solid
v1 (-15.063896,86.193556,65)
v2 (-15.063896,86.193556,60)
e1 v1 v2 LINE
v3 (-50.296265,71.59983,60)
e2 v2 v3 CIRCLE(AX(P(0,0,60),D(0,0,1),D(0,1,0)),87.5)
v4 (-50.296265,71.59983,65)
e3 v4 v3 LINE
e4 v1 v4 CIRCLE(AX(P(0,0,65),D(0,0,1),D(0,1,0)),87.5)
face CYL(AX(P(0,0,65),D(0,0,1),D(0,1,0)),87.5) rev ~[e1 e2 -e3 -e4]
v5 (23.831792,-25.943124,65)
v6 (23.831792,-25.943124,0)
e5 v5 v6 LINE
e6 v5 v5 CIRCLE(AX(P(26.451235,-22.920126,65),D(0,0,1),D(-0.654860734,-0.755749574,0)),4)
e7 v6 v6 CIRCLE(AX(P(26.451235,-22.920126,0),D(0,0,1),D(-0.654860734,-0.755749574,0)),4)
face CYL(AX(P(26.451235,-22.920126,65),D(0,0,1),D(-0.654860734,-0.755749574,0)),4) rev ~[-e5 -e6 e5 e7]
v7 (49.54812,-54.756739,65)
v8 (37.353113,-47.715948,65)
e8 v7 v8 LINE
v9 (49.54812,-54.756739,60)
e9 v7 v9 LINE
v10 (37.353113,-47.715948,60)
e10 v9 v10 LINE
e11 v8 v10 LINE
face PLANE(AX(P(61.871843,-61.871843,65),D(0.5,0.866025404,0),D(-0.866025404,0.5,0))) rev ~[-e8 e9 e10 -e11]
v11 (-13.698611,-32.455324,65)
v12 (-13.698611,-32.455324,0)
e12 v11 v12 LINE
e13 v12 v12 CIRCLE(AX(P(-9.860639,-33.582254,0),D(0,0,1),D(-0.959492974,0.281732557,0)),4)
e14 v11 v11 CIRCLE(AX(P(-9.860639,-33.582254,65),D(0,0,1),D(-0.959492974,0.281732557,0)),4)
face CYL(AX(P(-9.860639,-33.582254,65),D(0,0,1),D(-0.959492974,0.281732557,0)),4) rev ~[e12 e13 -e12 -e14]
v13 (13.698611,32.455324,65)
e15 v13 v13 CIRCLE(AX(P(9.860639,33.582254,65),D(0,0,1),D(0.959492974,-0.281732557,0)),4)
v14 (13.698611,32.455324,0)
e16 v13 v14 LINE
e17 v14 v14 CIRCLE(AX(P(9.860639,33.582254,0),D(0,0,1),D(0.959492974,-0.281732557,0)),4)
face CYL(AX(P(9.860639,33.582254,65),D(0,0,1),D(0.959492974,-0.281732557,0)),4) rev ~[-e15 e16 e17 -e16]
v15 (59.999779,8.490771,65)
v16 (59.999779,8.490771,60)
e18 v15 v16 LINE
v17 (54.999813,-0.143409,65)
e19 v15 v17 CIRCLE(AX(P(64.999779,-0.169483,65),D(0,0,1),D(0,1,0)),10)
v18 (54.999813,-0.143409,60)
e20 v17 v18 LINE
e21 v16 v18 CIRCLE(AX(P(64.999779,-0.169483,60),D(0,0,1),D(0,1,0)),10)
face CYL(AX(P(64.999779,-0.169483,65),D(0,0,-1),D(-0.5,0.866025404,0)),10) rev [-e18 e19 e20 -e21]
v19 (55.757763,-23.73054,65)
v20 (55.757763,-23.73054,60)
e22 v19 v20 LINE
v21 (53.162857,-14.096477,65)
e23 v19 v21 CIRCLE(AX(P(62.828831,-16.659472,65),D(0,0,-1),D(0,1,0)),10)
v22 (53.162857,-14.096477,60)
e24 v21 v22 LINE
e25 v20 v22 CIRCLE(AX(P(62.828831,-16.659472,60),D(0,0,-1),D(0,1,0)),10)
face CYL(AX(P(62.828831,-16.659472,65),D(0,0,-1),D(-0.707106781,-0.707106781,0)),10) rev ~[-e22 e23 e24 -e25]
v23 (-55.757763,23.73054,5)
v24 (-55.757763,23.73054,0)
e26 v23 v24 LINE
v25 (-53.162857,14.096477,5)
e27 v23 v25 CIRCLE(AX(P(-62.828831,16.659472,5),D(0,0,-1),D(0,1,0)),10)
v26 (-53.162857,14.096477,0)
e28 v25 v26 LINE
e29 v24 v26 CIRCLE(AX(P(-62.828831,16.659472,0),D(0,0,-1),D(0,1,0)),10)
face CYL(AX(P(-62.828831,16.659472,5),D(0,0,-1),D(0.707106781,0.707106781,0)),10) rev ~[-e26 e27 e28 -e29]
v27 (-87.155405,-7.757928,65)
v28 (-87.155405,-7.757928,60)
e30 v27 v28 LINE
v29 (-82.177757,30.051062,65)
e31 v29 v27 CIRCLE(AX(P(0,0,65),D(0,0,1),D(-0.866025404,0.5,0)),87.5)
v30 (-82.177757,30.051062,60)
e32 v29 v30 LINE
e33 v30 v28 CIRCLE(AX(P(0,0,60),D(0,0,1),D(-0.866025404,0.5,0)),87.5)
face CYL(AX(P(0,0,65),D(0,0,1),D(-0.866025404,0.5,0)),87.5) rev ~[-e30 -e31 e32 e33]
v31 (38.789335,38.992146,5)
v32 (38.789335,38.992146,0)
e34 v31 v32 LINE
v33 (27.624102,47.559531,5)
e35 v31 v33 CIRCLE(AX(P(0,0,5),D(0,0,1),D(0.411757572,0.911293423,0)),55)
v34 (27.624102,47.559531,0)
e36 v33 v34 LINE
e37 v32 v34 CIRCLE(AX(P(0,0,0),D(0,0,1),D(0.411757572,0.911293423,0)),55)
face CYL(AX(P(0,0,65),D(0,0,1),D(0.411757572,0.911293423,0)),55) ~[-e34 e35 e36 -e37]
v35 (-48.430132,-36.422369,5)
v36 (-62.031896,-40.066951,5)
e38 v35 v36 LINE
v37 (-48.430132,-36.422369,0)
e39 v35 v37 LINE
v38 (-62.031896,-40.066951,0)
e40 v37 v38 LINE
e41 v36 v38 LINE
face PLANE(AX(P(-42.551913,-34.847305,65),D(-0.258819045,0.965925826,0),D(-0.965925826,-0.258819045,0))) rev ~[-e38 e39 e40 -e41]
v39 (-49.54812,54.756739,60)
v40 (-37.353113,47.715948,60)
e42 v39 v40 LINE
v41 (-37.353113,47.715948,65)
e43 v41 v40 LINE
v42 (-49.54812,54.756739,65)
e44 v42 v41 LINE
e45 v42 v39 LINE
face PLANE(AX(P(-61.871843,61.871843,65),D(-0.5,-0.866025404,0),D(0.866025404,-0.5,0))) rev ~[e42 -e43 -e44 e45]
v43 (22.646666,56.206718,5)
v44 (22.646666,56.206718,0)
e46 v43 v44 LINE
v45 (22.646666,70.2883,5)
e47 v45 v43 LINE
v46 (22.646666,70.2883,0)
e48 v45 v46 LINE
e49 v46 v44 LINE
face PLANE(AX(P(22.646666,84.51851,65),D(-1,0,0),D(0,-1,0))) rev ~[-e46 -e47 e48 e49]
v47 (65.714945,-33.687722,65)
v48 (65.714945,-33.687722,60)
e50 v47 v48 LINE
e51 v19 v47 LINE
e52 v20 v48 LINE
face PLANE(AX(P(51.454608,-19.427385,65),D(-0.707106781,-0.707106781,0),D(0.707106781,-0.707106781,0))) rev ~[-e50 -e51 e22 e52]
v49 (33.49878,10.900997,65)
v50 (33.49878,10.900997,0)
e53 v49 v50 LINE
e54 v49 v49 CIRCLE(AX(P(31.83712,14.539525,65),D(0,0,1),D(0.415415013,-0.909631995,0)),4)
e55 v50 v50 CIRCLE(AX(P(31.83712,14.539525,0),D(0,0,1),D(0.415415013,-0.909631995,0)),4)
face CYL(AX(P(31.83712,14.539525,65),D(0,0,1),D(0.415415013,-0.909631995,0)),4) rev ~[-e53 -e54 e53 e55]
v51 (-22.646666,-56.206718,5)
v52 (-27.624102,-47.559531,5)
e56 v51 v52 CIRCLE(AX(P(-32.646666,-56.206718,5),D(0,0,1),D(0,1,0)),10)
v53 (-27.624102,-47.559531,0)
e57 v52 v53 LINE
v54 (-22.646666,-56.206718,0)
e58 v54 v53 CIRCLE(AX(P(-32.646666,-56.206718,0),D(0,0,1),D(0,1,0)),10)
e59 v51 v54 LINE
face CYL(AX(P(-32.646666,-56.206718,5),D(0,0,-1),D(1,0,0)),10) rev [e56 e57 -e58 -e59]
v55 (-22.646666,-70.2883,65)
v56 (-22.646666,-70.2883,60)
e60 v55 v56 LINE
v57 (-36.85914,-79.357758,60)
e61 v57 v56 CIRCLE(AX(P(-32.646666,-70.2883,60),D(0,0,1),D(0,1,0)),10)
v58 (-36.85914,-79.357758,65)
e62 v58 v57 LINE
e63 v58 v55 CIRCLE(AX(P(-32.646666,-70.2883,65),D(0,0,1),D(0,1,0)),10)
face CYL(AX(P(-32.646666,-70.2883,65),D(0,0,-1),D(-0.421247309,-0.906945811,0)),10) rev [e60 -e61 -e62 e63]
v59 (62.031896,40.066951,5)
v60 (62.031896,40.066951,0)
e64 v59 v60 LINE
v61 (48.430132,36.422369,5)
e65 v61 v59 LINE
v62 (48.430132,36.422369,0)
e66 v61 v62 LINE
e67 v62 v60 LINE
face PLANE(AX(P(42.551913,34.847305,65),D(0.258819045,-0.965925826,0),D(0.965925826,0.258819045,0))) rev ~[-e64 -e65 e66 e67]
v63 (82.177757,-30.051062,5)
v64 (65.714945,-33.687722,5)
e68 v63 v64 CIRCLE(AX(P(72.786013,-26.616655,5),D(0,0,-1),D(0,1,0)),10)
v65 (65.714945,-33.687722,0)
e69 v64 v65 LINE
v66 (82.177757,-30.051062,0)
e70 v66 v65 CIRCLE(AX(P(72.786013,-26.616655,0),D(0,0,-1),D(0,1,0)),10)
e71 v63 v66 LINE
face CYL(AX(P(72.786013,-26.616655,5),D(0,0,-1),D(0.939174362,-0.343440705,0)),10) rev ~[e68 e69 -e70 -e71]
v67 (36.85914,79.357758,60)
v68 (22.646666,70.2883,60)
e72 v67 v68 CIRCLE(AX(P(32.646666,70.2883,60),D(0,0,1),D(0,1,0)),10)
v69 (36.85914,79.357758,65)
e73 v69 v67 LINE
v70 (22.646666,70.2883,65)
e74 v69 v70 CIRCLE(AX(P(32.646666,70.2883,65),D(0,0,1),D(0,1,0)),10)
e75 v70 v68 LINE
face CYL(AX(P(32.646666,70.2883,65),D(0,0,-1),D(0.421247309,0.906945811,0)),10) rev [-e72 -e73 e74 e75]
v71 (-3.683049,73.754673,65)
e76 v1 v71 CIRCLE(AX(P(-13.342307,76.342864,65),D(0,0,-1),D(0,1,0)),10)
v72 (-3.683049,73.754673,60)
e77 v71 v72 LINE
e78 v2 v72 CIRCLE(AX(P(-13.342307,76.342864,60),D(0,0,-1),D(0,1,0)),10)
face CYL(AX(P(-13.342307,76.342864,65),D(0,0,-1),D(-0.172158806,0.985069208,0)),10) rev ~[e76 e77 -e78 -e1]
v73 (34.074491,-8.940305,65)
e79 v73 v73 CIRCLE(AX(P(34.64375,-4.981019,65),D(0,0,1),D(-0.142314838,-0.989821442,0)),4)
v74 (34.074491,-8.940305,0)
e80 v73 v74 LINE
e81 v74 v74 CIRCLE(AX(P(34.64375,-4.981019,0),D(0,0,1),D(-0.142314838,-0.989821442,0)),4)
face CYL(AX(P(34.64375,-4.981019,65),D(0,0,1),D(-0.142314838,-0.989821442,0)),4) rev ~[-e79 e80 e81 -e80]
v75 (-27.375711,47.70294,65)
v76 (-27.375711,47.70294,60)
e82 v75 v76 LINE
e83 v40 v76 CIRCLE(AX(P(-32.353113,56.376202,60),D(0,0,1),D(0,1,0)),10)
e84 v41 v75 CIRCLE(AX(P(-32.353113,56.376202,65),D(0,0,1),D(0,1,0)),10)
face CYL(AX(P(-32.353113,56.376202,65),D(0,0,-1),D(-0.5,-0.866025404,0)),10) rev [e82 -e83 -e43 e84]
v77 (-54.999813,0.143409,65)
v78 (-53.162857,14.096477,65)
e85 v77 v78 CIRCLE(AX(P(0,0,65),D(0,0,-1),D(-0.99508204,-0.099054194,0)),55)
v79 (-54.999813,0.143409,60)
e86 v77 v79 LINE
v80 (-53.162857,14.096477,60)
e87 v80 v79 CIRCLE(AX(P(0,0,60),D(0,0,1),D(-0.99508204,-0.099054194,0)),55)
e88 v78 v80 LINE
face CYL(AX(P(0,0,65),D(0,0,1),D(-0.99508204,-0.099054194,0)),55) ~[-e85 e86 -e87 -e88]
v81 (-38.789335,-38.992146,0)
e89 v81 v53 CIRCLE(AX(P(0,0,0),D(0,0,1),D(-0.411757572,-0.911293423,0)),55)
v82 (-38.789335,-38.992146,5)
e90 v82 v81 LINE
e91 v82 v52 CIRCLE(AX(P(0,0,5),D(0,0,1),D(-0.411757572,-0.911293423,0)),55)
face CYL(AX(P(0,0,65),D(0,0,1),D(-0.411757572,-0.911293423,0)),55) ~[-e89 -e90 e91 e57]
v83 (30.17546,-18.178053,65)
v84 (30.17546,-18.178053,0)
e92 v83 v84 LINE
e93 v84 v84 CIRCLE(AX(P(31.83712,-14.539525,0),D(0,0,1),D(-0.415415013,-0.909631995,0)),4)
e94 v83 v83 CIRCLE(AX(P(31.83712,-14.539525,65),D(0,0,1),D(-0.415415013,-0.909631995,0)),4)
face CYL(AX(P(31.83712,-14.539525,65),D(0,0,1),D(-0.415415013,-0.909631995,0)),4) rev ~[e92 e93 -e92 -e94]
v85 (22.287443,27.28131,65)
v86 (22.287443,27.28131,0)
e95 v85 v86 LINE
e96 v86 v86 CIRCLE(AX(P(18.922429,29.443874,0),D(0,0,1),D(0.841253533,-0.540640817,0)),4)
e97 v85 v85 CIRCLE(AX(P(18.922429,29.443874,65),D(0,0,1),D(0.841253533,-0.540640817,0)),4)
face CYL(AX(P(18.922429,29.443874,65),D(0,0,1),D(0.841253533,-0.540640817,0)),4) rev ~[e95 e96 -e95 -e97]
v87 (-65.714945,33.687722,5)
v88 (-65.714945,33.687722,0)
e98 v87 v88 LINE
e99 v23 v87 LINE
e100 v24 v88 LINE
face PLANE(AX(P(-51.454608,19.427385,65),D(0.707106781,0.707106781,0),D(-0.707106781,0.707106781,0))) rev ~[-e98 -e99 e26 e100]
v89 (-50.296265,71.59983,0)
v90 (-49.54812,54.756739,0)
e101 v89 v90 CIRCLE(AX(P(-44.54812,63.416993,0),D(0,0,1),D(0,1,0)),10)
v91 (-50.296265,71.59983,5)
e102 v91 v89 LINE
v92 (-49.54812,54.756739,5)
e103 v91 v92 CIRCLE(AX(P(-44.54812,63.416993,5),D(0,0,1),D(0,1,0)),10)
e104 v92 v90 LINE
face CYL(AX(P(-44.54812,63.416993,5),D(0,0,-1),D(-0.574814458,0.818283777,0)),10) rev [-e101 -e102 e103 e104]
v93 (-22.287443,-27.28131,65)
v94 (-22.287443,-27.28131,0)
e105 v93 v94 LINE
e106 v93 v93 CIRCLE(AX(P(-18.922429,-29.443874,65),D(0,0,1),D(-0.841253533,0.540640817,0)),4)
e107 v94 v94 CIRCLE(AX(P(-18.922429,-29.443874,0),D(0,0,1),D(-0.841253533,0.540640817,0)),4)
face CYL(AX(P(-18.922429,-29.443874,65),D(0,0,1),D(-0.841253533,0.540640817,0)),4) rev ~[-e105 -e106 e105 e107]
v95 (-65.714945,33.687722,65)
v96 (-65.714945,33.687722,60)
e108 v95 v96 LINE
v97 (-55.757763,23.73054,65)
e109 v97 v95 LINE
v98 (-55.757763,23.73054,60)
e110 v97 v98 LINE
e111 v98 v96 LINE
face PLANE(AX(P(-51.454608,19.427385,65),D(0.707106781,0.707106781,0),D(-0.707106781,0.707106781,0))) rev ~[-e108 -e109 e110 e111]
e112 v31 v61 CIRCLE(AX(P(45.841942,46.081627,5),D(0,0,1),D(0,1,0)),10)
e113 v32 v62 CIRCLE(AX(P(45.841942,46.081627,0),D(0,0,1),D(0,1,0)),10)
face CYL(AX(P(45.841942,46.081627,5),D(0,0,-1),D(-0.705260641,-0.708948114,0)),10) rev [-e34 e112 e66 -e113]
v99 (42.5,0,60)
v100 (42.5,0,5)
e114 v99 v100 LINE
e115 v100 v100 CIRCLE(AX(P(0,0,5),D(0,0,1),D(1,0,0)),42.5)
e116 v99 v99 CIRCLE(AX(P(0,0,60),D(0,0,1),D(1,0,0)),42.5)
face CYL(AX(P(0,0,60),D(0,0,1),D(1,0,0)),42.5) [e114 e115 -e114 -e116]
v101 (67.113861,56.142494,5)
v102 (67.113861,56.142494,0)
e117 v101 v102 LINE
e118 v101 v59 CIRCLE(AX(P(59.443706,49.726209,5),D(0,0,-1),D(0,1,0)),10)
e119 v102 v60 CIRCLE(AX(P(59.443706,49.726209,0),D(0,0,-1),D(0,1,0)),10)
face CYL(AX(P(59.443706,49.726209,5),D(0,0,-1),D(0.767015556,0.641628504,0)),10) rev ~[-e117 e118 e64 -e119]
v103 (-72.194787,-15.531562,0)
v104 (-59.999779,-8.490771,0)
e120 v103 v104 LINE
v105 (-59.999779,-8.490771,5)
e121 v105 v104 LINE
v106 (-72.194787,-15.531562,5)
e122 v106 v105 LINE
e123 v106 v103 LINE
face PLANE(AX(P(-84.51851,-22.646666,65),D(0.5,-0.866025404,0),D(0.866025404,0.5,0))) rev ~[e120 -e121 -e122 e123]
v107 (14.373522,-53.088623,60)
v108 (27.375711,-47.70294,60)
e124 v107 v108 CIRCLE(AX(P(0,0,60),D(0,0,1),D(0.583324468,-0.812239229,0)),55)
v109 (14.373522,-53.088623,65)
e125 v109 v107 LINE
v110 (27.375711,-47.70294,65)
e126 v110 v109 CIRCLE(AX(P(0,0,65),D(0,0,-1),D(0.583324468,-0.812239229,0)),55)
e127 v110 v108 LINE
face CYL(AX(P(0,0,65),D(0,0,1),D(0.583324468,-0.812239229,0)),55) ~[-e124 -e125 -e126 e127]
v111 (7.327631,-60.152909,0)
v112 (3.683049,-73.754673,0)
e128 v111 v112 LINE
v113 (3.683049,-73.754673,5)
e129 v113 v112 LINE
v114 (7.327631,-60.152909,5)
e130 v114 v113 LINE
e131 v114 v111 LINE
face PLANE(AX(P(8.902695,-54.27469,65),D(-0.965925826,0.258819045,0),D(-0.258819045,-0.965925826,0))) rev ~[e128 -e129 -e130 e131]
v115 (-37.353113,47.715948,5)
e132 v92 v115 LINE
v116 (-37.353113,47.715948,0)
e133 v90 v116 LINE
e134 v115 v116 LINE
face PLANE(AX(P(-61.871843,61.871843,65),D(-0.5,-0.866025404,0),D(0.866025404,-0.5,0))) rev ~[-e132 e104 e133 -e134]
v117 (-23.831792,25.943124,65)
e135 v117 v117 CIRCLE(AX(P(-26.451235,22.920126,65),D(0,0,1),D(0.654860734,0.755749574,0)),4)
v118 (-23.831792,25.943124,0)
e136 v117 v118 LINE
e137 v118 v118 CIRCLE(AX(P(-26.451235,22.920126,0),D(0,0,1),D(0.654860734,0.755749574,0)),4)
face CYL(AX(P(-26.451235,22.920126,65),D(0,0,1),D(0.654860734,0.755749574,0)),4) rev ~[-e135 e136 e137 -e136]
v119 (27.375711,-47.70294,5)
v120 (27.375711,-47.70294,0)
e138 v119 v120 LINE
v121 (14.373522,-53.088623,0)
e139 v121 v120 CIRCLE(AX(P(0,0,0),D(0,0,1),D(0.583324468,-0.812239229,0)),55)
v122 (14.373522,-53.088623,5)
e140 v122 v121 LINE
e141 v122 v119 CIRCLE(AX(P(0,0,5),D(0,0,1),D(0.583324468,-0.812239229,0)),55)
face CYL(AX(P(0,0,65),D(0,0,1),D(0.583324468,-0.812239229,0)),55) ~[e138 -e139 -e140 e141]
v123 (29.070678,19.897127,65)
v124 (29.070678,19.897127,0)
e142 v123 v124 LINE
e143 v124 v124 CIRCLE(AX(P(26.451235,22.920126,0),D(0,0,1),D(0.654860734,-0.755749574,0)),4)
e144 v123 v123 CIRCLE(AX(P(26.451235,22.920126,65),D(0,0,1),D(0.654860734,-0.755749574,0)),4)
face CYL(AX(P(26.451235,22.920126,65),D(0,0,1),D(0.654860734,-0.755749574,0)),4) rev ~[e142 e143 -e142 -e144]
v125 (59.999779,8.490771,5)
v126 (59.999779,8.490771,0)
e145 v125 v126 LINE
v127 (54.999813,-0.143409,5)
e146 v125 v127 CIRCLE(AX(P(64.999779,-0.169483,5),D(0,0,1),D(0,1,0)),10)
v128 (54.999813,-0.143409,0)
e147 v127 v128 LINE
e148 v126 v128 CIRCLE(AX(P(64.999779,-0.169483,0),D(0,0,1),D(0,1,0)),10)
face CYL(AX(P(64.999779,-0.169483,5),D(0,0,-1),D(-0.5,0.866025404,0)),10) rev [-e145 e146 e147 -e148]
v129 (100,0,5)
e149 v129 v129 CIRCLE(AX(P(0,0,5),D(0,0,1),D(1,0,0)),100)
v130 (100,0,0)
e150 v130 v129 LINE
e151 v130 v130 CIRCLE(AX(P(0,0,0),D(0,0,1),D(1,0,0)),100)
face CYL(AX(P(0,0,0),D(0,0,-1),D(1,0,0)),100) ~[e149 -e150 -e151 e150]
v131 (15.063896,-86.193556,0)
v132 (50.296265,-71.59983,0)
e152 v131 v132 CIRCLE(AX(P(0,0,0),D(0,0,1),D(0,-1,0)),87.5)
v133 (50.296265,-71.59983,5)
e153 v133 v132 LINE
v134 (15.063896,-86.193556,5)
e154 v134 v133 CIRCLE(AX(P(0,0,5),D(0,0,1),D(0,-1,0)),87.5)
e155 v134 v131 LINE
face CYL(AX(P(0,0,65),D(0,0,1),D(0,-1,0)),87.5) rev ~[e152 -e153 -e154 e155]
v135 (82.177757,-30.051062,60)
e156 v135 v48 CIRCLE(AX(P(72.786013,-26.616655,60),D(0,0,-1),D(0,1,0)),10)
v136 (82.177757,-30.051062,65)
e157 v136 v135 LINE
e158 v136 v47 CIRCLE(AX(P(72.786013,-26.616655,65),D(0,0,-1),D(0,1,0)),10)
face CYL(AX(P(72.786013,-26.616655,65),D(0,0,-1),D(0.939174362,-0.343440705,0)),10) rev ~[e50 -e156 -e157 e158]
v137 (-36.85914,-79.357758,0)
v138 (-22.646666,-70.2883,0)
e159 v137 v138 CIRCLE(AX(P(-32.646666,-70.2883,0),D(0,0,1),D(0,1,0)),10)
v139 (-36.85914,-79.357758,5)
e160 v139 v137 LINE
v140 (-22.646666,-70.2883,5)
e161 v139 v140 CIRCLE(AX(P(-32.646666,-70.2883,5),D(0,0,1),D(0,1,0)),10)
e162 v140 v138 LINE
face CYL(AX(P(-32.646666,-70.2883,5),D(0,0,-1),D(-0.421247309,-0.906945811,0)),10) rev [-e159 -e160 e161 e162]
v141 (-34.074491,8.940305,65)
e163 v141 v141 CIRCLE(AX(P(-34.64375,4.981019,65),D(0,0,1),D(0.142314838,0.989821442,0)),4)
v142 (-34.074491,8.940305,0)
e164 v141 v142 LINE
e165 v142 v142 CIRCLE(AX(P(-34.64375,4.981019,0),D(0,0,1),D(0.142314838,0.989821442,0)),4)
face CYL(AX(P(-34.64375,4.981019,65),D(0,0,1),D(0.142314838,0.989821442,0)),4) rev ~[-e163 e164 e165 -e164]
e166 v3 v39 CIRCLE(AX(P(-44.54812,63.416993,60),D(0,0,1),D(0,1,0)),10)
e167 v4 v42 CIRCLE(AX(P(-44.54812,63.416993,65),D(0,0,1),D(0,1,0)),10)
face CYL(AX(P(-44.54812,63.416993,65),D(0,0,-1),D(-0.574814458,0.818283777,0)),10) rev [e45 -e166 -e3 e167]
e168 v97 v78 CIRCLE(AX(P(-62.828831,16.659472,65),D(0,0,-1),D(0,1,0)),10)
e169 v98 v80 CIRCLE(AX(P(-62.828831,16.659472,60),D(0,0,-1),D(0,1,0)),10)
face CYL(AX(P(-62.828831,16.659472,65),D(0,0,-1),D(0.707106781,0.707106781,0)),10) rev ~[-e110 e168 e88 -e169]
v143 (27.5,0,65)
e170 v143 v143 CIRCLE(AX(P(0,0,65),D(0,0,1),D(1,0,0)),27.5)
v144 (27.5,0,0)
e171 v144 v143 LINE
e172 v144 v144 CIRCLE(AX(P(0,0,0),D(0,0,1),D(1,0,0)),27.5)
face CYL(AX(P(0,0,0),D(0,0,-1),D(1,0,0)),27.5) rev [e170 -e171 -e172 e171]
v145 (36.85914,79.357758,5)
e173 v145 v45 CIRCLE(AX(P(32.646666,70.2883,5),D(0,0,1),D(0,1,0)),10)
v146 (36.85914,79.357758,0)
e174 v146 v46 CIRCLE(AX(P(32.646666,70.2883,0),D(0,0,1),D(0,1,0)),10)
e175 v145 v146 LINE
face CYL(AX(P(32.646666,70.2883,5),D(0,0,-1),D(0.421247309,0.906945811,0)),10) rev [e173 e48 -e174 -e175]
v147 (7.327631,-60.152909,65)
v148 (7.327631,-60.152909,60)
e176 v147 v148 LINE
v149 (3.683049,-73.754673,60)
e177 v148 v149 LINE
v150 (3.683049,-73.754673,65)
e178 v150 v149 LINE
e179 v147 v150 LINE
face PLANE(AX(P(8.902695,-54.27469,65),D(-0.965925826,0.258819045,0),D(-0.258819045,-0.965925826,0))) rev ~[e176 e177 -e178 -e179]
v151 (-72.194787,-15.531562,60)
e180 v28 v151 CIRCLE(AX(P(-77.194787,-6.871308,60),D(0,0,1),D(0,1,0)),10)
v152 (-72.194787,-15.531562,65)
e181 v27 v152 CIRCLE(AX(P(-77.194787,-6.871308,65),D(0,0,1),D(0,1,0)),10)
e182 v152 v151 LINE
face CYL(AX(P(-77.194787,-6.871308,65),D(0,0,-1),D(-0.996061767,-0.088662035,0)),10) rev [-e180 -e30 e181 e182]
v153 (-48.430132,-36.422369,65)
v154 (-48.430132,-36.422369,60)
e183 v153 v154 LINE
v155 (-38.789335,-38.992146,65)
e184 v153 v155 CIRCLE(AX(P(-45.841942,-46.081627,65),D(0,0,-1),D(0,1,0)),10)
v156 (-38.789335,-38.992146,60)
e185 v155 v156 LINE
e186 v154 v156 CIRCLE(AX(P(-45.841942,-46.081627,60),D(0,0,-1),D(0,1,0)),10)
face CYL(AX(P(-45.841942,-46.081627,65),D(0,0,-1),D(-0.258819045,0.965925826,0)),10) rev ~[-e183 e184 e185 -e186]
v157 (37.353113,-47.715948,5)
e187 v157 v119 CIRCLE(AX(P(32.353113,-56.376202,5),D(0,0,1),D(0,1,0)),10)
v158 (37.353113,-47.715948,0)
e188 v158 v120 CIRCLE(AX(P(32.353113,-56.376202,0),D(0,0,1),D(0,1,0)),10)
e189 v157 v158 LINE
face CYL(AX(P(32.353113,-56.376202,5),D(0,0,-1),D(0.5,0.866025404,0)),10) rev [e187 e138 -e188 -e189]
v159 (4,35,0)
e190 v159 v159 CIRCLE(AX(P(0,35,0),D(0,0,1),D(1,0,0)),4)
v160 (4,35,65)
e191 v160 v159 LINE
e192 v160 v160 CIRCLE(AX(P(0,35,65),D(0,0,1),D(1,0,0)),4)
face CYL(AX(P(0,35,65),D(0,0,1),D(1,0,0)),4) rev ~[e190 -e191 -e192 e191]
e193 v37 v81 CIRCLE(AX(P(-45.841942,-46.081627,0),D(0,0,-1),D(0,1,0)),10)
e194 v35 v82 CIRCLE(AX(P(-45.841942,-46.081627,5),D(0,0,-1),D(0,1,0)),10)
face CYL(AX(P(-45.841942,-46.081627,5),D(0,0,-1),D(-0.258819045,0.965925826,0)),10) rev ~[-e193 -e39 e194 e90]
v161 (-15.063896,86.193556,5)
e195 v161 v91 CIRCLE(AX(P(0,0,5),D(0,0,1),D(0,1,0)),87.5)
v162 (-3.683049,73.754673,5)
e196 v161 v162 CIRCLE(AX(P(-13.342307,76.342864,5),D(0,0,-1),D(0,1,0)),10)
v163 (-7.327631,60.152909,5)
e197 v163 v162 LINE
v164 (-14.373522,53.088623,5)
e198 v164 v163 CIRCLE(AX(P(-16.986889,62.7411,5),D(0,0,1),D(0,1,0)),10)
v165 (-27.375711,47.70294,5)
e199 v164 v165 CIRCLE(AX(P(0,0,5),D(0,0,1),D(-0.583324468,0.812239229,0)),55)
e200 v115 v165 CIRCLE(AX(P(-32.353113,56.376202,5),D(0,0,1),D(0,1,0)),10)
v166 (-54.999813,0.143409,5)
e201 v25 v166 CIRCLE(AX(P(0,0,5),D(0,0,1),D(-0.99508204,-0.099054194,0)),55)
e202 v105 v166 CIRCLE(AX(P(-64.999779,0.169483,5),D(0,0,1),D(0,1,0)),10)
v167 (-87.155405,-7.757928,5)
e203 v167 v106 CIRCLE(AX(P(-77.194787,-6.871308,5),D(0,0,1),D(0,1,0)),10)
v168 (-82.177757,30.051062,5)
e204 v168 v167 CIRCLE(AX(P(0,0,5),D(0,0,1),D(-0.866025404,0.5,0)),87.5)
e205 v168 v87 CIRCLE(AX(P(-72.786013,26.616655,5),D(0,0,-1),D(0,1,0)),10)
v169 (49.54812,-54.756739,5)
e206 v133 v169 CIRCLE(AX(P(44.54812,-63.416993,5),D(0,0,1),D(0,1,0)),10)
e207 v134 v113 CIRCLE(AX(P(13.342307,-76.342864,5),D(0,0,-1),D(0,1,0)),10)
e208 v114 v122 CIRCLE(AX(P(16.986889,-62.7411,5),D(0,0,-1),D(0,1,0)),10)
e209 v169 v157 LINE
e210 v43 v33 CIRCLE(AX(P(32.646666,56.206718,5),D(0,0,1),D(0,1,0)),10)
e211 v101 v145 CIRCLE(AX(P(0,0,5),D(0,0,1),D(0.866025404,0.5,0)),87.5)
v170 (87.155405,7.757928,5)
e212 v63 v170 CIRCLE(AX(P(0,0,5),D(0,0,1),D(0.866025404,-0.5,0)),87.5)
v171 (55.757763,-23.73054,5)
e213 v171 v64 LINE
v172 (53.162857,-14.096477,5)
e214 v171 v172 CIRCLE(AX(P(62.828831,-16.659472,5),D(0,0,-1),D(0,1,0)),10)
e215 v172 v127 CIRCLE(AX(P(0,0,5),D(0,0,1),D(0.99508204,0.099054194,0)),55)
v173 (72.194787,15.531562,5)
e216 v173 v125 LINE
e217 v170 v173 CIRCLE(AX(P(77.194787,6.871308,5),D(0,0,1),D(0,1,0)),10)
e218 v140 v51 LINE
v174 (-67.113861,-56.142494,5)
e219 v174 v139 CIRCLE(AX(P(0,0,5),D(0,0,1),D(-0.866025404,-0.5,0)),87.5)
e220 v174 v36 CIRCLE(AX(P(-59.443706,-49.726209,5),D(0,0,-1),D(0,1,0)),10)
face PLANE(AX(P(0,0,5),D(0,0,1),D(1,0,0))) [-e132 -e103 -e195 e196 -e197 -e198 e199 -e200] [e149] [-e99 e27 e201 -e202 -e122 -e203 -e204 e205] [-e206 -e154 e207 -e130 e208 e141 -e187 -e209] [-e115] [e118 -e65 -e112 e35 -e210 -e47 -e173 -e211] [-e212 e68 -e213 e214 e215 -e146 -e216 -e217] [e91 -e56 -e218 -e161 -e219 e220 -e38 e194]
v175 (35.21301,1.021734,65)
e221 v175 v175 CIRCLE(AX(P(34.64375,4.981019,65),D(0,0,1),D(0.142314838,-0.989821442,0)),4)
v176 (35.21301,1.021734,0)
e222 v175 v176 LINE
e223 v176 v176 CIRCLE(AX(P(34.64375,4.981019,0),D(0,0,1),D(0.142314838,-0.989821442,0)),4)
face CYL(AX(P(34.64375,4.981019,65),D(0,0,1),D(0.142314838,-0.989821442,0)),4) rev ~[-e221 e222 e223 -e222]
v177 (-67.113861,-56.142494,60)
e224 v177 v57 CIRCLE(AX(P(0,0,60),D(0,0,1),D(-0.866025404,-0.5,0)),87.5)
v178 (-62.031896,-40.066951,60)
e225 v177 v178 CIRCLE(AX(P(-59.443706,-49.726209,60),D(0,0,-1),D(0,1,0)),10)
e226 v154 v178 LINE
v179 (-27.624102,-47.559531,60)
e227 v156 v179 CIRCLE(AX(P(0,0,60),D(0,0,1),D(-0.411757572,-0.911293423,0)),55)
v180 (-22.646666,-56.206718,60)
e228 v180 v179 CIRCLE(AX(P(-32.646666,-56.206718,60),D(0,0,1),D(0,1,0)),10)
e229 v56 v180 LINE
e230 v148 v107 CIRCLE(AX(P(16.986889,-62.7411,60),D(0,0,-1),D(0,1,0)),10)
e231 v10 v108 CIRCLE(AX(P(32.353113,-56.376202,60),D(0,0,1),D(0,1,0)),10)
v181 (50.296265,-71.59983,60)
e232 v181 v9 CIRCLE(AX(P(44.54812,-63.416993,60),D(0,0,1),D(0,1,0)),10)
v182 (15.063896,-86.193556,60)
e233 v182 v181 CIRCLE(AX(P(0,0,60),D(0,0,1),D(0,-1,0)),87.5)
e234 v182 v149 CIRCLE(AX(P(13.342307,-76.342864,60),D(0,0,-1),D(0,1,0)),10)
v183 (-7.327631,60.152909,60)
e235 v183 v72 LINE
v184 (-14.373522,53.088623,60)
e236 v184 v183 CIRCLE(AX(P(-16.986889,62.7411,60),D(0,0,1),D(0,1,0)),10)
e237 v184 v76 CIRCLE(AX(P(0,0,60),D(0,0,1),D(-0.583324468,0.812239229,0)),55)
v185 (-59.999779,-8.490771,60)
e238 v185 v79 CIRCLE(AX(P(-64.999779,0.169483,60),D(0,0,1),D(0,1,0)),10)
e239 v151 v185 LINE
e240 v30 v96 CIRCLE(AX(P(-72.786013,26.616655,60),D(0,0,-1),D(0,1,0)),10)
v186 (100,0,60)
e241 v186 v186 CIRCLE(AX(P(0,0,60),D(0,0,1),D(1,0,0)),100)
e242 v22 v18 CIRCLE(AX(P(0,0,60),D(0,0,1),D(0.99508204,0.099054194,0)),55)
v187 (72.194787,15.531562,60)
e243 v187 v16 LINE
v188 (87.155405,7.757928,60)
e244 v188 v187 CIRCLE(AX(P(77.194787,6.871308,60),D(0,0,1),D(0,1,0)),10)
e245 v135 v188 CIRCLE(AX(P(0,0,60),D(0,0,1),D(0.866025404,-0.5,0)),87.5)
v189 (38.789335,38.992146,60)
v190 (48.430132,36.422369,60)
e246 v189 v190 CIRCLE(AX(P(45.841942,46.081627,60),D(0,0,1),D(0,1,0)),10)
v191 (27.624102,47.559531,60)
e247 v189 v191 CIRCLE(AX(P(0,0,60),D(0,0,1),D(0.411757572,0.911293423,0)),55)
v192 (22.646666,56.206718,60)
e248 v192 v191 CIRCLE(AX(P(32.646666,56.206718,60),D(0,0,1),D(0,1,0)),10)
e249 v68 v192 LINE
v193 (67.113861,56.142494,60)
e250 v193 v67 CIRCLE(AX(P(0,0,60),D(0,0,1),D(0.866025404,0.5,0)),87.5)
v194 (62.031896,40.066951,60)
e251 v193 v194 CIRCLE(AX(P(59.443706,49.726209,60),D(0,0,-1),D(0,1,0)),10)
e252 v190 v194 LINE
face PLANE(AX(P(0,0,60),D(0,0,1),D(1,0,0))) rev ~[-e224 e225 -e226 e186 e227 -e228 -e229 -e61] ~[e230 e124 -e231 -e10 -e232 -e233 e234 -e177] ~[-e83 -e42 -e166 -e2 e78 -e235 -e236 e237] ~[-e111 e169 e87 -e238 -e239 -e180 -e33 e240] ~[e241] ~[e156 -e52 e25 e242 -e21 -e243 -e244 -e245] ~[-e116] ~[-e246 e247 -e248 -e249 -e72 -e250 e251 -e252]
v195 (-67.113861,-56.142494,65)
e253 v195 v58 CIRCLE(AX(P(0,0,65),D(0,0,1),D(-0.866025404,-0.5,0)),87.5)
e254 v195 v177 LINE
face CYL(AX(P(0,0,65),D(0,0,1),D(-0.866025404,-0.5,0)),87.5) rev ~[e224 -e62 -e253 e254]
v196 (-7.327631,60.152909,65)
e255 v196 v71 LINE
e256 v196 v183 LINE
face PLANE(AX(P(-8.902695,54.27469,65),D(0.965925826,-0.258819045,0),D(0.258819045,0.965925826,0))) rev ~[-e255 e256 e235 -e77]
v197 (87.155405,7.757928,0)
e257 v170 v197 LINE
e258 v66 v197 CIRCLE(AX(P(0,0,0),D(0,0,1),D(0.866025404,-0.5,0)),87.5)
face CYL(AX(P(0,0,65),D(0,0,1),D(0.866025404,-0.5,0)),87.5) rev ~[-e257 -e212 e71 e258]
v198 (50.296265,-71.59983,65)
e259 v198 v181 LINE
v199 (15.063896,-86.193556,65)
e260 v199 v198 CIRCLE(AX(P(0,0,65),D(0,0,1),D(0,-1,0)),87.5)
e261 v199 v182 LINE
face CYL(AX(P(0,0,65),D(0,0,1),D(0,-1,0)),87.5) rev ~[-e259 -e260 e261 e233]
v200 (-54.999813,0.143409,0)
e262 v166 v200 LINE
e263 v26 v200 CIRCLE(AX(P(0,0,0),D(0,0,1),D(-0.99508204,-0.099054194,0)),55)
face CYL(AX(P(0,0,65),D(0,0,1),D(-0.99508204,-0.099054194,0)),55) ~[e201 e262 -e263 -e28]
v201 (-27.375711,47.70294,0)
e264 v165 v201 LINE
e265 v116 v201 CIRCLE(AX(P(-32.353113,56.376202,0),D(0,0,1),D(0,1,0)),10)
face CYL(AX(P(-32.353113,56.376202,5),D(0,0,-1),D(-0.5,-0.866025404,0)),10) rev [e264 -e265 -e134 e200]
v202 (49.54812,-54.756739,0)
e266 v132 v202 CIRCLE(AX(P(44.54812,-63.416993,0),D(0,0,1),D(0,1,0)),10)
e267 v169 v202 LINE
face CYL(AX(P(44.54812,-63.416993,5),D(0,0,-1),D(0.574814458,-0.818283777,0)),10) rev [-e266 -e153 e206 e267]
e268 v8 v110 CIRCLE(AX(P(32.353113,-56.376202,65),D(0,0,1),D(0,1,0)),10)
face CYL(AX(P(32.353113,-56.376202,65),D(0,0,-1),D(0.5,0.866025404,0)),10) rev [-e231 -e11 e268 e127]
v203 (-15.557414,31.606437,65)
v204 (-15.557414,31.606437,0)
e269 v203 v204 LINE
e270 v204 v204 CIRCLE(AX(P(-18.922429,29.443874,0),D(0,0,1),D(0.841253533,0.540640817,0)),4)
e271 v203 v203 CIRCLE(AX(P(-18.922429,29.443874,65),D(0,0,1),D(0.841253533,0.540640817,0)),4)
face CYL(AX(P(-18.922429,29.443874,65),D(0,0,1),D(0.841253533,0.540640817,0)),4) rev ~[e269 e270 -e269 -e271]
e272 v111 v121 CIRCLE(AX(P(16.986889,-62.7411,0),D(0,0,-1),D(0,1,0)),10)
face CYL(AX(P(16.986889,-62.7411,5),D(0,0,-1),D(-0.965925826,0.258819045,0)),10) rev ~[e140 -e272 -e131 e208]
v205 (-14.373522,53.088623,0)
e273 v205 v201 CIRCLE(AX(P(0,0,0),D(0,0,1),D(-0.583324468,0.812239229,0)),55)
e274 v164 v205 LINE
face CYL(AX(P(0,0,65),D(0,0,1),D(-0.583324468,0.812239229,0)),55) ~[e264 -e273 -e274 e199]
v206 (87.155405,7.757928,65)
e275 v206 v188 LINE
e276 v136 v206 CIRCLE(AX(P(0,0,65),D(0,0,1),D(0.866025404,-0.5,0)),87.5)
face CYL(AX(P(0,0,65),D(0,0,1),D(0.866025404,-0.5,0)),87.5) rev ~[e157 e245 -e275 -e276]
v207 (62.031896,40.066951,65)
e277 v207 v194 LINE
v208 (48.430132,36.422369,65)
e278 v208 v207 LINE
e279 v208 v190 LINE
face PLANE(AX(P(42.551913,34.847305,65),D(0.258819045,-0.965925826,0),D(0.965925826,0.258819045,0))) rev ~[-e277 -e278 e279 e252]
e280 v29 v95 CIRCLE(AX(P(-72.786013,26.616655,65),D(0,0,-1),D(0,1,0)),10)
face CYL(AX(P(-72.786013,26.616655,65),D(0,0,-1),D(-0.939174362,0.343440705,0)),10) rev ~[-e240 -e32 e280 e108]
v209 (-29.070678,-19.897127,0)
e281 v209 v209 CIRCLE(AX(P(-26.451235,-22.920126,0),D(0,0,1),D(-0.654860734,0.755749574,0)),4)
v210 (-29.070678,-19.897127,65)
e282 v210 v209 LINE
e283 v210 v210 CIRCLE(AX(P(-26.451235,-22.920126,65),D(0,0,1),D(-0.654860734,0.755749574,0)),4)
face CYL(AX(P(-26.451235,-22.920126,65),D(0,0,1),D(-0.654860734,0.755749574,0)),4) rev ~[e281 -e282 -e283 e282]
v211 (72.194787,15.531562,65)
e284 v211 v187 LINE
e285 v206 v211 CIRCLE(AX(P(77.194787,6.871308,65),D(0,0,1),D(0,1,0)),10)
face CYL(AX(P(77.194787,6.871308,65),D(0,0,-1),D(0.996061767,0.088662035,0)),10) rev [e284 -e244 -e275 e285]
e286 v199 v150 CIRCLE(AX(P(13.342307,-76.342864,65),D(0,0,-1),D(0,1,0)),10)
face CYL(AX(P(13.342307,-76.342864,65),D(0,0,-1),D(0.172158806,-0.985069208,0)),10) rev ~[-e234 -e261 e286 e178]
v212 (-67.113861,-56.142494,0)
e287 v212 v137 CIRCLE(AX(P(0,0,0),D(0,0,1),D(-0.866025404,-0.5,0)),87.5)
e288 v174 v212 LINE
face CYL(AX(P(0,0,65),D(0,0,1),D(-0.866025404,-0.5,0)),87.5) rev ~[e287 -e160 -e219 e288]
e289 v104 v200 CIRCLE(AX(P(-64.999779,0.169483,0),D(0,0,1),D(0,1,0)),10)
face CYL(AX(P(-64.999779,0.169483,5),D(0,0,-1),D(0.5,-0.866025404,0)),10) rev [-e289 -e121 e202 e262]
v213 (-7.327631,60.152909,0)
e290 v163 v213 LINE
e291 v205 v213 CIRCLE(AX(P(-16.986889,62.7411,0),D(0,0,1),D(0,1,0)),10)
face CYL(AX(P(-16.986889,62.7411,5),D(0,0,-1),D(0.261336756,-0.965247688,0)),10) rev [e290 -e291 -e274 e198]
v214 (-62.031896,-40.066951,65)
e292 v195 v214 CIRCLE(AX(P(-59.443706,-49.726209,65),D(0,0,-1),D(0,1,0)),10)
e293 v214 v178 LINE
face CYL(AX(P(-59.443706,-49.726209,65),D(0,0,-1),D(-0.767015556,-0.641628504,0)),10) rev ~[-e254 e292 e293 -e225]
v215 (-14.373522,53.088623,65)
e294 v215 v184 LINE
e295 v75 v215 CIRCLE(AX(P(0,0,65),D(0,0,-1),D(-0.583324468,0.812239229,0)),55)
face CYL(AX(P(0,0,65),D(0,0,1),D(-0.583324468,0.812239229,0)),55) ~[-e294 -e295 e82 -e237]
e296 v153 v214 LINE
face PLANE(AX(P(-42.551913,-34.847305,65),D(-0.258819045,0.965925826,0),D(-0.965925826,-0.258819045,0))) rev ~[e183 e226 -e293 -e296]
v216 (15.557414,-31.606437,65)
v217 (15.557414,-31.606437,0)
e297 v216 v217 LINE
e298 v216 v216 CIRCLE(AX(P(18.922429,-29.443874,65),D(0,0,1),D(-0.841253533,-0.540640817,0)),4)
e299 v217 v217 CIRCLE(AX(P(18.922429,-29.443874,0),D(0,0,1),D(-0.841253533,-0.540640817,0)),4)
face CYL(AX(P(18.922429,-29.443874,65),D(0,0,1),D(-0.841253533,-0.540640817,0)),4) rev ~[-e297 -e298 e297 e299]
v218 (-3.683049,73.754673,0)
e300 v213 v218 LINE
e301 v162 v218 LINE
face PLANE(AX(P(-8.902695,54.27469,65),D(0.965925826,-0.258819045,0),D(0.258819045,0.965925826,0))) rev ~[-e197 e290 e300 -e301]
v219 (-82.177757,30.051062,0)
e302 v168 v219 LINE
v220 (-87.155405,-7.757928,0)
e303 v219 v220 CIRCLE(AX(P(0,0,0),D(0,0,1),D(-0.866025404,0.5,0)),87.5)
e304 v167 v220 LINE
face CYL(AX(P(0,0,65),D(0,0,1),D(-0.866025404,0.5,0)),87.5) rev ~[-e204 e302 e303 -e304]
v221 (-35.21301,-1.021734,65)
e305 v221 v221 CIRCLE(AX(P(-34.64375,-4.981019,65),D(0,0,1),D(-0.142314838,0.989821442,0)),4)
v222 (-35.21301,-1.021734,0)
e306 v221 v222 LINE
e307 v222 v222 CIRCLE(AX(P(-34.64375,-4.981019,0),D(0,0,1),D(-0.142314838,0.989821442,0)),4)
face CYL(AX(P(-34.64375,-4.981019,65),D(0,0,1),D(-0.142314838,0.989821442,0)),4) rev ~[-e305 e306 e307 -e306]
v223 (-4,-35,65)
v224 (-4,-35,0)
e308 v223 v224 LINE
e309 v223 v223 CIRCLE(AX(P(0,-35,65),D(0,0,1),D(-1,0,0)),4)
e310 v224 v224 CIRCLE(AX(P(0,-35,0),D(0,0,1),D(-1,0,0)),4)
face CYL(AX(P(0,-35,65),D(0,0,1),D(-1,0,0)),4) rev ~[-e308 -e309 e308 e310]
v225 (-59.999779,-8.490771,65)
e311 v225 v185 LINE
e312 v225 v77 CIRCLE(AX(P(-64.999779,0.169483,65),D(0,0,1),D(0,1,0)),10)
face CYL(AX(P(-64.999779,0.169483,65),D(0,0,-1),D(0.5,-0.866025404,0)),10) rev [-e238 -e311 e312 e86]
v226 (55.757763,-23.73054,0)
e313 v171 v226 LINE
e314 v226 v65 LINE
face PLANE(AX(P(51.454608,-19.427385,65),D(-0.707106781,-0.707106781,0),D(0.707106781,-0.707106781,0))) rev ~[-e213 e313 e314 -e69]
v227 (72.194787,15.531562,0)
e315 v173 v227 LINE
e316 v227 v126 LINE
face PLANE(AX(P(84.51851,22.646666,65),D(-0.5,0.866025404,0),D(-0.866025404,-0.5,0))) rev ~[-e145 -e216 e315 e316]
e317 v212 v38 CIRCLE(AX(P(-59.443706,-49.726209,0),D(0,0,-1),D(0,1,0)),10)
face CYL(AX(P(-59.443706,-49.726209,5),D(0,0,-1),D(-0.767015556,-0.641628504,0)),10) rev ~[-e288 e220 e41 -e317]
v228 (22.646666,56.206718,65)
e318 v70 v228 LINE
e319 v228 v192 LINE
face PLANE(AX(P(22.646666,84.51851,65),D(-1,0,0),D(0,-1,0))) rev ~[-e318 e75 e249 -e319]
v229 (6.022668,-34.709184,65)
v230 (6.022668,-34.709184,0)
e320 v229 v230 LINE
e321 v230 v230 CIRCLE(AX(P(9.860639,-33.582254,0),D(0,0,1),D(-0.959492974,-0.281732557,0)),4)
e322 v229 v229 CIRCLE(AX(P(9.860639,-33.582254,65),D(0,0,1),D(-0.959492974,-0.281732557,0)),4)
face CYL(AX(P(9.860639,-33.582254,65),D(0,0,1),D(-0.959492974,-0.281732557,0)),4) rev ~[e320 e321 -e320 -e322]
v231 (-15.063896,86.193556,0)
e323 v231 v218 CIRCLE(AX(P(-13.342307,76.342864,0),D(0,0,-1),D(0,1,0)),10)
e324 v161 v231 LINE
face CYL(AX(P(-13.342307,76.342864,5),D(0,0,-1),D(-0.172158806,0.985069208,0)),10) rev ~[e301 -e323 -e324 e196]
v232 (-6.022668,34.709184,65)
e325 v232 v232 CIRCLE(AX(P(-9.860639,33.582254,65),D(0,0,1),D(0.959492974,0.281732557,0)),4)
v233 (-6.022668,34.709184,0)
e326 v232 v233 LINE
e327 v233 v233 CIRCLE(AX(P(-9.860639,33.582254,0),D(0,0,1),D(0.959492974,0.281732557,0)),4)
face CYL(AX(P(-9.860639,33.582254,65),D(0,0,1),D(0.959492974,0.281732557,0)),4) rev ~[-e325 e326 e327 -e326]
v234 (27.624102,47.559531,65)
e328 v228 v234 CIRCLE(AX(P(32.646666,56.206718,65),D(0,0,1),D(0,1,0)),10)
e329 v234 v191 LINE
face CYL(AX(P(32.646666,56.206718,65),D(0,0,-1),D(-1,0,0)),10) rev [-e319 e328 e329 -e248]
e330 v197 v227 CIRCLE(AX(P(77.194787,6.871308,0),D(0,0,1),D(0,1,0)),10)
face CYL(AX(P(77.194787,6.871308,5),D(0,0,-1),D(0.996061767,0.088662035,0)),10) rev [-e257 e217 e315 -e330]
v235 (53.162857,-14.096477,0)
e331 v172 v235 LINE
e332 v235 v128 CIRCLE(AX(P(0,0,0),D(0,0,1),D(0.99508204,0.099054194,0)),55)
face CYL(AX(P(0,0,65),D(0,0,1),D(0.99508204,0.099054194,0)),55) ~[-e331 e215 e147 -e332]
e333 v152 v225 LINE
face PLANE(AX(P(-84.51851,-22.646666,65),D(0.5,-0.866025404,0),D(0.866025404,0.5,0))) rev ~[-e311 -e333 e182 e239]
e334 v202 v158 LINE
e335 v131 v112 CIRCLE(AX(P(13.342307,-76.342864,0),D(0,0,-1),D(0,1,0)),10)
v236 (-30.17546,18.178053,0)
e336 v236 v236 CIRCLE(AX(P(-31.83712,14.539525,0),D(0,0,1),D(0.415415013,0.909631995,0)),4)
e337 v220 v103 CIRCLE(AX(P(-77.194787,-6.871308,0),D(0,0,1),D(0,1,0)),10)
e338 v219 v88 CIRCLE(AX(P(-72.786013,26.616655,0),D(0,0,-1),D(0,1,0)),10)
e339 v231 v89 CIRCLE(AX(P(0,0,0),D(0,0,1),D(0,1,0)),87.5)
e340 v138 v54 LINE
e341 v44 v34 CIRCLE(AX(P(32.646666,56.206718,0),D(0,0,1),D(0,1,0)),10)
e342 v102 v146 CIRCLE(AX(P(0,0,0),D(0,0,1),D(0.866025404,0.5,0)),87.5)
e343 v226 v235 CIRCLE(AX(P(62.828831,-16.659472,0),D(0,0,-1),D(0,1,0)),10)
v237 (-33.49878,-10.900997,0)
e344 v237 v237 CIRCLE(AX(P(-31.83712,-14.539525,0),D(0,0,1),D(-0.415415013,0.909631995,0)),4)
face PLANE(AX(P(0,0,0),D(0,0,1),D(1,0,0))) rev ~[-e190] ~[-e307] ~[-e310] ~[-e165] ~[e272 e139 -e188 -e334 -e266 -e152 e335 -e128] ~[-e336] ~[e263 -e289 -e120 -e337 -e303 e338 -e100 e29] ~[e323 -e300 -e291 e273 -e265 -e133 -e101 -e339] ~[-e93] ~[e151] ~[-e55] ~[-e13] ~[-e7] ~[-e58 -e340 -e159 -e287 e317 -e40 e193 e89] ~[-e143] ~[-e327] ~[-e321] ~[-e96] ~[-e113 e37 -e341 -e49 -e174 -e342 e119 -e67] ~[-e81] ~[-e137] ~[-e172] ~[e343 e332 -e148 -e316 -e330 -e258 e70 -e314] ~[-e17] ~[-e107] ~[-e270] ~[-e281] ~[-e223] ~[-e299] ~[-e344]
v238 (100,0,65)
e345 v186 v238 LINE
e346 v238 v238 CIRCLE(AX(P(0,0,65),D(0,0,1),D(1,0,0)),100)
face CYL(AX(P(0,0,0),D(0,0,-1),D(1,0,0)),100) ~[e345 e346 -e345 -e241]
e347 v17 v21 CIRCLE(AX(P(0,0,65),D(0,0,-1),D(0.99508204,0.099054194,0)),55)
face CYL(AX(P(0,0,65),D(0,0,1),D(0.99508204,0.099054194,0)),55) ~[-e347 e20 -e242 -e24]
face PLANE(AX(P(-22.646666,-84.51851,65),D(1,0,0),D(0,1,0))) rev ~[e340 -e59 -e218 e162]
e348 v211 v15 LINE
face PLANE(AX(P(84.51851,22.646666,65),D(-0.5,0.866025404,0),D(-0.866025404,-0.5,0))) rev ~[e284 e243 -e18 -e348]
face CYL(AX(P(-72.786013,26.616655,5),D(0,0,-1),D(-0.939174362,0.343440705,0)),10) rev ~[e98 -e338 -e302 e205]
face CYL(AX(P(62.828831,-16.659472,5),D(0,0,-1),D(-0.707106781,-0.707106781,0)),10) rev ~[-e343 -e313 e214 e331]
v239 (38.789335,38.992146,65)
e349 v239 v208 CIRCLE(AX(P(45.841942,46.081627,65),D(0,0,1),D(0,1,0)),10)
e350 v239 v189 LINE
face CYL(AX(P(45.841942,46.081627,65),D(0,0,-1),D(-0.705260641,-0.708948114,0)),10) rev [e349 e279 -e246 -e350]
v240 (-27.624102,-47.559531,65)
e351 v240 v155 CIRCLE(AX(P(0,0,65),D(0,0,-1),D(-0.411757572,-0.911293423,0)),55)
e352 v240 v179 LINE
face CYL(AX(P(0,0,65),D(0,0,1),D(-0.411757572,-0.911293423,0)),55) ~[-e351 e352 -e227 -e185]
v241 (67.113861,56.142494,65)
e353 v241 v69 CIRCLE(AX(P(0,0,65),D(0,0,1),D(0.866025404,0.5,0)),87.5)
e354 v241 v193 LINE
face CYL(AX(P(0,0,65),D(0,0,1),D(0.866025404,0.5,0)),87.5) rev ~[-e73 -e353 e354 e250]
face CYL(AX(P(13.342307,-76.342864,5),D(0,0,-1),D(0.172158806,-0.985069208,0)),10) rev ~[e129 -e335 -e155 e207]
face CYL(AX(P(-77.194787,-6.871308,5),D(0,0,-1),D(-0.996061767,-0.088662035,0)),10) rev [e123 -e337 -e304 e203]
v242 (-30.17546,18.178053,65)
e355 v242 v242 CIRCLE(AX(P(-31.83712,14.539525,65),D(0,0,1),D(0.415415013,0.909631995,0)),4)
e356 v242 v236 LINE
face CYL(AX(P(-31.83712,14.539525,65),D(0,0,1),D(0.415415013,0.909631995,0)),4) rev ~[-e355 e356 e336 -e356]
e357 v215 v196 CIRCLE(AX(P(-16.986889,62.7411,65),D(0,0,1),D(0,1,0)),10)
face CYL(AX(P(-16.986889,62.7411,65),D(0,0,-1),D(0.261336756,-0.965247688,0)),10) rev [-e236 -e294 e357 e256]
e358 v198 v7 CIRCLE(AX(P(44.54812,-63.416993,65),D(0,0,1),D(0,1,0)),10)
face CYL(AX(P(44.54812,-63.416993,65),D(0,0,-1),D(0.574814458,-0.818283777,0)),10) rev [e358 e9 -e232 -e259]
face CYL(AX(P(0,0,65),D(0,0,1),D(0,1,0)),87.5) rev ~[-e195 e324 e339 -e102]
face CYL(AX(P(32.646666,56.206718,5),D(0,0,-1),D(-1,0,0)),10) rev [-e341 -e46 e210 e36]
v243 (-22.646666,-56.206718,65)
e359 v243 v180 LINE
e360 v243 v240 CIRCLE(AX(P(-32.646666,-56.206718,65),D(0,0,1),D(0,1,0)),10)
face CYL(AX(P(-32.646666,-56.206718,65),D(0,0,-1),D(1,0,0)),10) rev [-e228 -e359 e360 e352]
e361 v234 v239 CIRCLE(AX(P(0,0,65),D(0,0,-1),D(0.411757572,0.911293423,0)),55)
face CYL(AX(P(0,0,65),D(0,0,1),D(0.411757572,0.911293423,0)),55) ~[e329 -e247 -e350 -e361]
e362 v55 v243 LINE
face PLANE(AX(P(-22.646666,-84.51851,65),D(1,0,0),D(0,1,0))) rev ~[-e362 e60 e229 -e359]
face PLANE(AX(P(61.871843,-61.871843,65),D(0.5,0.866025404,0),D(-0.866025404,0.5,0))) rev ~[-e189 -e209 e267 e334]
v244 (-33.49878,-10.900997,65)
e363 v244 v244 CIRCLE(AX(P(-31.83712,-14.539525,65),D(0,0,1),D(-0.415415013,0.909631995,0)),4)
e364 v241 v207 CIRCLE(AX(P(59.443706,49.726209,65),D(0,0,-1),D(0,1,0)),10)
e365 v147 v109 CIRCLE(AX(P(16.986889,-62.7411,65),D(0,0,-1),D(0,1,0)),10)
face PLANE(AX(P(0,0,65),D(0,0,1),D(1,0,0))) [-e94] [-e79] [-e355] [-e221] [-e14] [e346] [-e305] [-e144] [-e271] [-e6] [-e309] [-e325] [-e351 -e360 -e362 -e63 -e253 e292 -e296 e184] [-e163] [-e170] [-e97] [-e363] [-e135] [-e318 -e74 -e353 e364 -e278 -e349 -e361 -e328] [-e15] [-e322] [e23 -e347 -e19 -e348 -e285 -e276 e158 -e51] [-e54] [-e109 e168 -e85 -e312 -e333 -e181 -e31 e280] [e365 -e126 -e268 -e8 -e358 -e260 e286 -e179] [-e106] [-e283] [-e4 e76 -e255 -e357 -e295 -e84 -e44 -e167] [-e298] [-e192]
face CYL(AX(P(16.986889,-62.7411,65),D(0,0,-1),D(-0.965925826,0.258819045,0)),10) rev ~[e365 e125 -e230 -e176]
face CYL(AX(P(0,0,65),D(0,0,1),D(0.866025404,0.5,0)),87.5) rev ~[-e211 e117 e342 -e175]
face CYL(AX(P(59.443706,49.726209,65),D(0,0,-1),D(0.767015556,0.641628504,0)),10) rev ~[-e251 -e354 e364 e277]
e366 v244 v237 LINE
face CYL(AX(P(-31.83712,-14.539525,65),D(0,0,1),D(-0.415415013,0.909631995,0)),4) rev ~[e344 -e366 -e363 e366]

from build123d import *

# Parameters (mm, degrees)
ESBO_O1_R                    = 100
ESBO_O1_R_2                  = 27.5
RESSALTO_EXTRUS_O1_DEPTH     = 65
CORTE_EXTRUS_O1_START        = -5
ESBO_O2_R                    = 100
ESBO_O2_R_2                  = 42.5
CORTE_EXTRUS_O1_DEPTH        = 55
CORTE_EXTRUS_O2_DEPTH        = 157.3
FILETE1_R                    = 10
PADR_OCIRCULAR1_COUNT        = 6
FILETE1_OF_PADR_OCIRCULAR1_R = 10
ESBO_O4_R                    = 4
CORTE_EXTRUS_O3_DEPTH        = 157.3
PADR_OCIRCULAR2_COUNT        = 22


with BuildPart() as part:
    # Esboço1 → Ressalto-extrusão1 (new body)
    with BuildSketch(Plane.XY):
        Circle(ESBO_O1_R)
        Circle(ESBO_O1_R_2, mode=Mode.SUBTRACT)
    extrude(amount=RESSALTO_EXTRUS_O1_DEPTH)

    # Esboço2 → Corte-extrusão1 (cut)
    with BuildSketch(Plane.XY.offset(65).offset(CORTE_EXTRUS_O1_START)):
        Circle(ESBO_O2_R)
        Circle(ESBO_O2_R_2, mode=Mode.SUBTRACT)
    extrude(amount=-CORTE_EXTRUS_O1_DEPTH, mode=Mode.SUBTRACT)

    # Esboço3 → Corte-extrusão2 (cut)
    with BuildSketch(Plane.XY.offset(65)):
        with BuildLine():
            ThreePointArc((0, 87.5), (-33.484800332, 80.839459095), (-61.871843354, 61.871843354))
            Line((-61.871843354, 61.871843354), (-32.082845763, 44.673157576))
            ThreePointArc((-32.082845763, 44.673157576), (-21.04758878, 50.813374288), (-8.90269486, 54.274690457))
            Line((-8.90269486, 54.274690457), (0, 87.5))
        make_face()
    corte_extrus_o2 = extrude(amount=-CORTE_EXTRUS_O2_DEPTH, mode=Mode.SUBTRACT)

    # Filete1
    filete1_edges = [part.edges().sort_by_distance(p)[0] for p in [
        (0, 87.5, 2.5),
        (0, 87.5, 62.5),
        (-8.90269486, 54.274690457, 2.5),
        (-8.90269486, 54.274690457, 62.5),
        (-32.082845763, 44.673157576, 2.5),
        (-32.082845763, 44.673157576, 62.5),
        (-61.871843354, 61.871843354, 2.5),
        (-61.871843354, 61.871843354, 62.5),
    ]]
    fillet(filete1_edges, radius=FILETE1_R)

    # PadrãoCircular1: Corte-extrusão2 ×6 about axis
    padr_ocircular1_axis = Axis((0, 0, 0), (0, 0, 1))
    for i in range(1, PADR_OCIRCULAR1_COUNT):
        add(corte_extrus_o2.rotate(padr_ocircular1_axis, i * 360 / PADR_OCIRCULAR1_COUNT), mode=Mode.SUBTRACT)

    # Filete1 of PadrãoCircular1
    filete1_of_padr_ocircular1_edges = [part.edges().sort_by_distance(p)[0] for p in [
        (-75.777222831, 43.75, 2.5),
        (-75.777222831, 43.75, 62.5),
        (-51.454608149, 19.427385317, 2.5),
        (-51.454608149, 19.427385317, 62.5),
        (-54.729512209, -5.447980668, 2.5),
        (-54.729512209, -5.447980668, 62.5),
        (-84.5185098, -22.646666446, 2.5),
        (-84.5185098, -22.646666446, 62.5),
        (-75.777222831, -43.75, 2.5),
        (-75.777222831, -43.75, 62.5),
        (-42.551913288, -34.84730514, 2.5),
        (-42.551913288, -34.84730514, 62.5),
        (-22.646666446, -50.121138244, 2.5),
        (-22.646666446, -50.121138244, 62.5),
        (-22.646666446, -84.5185098, 2.5),
        (-22.646666446, -84.5185098, 62.5),
        (0, -87.5, 2.5),
        (0, -87.5, 62.5),
        (8.90269486, -54.274690457, 2.5),
        (8.90269486, -54.274690457, 62.5),
        (32.082845763, -44.673157576, 2.5),
        (32.082845763, -44.673157576, 62.5),
        (61.871843354, -61.871843354, 2.5),
        (61.871843354, -61.871843354, 62.5),
        (75.777222831, -43.75, 2.5),
        (75.777222831, -43.75, 62.5),
        (51.454608149, -19.427385317, 2.5),
        (51.454608149, -19.427385317, 62.5),
        (54.729512209, 5.447980668, 2.5),
        (54.729512209, 5.447980668, 62.5),
        (84.5185098, 22.646666446, 2.5),
        (84.5185098, 22.646666446, 62.5),
        (75.777222831, 43.75, 2.5),
        (75.777222831, 43.75, 62.5),
        (42.551913288, 34.84730514, 2.5),
        (42.551913288, 34.84730514, 62.5),
        (22.646666446, 50.121138244, 2.5),
        (22.646666446, 50.121138244, 62.5),
        (22.646666446, 84.5185098, 2.5),
        (22.646666446, 84.5185098, 62.5),
    ]]
    fillet(filete1_of_padr_ocircular1_edges, radius=FILETE1_OF_PADR_OCIRCULAR1_R)

    # Esboço4 → Corte-extrusão3 (cut)
    with BuildSketch(Plane.XY.offset(65)):
        with Locations((0, 35)):
            Circle(ESBO_O4_R)
    corte_extrus_o3 = extrude(amount=-CORTE_EXTRUS_O3_DEPTH, mode=Mode.SUBTRACT)

    # PadrãoCircular2: Corte-extrusão3 ×22 about axis
    padr_ocircular2_axis = Axis((0, 0, 0), (0, 0, 1))
    for i in range(1, PADR_OCIRCULAR2_COUNT):
        add(corte_extrus_o3.rotate(padr_ocircular2_axis, i * 360 / PADR_OCIRCULAR2_COUNT), mode=Mode.SUBTRACT)


solid = part.part
